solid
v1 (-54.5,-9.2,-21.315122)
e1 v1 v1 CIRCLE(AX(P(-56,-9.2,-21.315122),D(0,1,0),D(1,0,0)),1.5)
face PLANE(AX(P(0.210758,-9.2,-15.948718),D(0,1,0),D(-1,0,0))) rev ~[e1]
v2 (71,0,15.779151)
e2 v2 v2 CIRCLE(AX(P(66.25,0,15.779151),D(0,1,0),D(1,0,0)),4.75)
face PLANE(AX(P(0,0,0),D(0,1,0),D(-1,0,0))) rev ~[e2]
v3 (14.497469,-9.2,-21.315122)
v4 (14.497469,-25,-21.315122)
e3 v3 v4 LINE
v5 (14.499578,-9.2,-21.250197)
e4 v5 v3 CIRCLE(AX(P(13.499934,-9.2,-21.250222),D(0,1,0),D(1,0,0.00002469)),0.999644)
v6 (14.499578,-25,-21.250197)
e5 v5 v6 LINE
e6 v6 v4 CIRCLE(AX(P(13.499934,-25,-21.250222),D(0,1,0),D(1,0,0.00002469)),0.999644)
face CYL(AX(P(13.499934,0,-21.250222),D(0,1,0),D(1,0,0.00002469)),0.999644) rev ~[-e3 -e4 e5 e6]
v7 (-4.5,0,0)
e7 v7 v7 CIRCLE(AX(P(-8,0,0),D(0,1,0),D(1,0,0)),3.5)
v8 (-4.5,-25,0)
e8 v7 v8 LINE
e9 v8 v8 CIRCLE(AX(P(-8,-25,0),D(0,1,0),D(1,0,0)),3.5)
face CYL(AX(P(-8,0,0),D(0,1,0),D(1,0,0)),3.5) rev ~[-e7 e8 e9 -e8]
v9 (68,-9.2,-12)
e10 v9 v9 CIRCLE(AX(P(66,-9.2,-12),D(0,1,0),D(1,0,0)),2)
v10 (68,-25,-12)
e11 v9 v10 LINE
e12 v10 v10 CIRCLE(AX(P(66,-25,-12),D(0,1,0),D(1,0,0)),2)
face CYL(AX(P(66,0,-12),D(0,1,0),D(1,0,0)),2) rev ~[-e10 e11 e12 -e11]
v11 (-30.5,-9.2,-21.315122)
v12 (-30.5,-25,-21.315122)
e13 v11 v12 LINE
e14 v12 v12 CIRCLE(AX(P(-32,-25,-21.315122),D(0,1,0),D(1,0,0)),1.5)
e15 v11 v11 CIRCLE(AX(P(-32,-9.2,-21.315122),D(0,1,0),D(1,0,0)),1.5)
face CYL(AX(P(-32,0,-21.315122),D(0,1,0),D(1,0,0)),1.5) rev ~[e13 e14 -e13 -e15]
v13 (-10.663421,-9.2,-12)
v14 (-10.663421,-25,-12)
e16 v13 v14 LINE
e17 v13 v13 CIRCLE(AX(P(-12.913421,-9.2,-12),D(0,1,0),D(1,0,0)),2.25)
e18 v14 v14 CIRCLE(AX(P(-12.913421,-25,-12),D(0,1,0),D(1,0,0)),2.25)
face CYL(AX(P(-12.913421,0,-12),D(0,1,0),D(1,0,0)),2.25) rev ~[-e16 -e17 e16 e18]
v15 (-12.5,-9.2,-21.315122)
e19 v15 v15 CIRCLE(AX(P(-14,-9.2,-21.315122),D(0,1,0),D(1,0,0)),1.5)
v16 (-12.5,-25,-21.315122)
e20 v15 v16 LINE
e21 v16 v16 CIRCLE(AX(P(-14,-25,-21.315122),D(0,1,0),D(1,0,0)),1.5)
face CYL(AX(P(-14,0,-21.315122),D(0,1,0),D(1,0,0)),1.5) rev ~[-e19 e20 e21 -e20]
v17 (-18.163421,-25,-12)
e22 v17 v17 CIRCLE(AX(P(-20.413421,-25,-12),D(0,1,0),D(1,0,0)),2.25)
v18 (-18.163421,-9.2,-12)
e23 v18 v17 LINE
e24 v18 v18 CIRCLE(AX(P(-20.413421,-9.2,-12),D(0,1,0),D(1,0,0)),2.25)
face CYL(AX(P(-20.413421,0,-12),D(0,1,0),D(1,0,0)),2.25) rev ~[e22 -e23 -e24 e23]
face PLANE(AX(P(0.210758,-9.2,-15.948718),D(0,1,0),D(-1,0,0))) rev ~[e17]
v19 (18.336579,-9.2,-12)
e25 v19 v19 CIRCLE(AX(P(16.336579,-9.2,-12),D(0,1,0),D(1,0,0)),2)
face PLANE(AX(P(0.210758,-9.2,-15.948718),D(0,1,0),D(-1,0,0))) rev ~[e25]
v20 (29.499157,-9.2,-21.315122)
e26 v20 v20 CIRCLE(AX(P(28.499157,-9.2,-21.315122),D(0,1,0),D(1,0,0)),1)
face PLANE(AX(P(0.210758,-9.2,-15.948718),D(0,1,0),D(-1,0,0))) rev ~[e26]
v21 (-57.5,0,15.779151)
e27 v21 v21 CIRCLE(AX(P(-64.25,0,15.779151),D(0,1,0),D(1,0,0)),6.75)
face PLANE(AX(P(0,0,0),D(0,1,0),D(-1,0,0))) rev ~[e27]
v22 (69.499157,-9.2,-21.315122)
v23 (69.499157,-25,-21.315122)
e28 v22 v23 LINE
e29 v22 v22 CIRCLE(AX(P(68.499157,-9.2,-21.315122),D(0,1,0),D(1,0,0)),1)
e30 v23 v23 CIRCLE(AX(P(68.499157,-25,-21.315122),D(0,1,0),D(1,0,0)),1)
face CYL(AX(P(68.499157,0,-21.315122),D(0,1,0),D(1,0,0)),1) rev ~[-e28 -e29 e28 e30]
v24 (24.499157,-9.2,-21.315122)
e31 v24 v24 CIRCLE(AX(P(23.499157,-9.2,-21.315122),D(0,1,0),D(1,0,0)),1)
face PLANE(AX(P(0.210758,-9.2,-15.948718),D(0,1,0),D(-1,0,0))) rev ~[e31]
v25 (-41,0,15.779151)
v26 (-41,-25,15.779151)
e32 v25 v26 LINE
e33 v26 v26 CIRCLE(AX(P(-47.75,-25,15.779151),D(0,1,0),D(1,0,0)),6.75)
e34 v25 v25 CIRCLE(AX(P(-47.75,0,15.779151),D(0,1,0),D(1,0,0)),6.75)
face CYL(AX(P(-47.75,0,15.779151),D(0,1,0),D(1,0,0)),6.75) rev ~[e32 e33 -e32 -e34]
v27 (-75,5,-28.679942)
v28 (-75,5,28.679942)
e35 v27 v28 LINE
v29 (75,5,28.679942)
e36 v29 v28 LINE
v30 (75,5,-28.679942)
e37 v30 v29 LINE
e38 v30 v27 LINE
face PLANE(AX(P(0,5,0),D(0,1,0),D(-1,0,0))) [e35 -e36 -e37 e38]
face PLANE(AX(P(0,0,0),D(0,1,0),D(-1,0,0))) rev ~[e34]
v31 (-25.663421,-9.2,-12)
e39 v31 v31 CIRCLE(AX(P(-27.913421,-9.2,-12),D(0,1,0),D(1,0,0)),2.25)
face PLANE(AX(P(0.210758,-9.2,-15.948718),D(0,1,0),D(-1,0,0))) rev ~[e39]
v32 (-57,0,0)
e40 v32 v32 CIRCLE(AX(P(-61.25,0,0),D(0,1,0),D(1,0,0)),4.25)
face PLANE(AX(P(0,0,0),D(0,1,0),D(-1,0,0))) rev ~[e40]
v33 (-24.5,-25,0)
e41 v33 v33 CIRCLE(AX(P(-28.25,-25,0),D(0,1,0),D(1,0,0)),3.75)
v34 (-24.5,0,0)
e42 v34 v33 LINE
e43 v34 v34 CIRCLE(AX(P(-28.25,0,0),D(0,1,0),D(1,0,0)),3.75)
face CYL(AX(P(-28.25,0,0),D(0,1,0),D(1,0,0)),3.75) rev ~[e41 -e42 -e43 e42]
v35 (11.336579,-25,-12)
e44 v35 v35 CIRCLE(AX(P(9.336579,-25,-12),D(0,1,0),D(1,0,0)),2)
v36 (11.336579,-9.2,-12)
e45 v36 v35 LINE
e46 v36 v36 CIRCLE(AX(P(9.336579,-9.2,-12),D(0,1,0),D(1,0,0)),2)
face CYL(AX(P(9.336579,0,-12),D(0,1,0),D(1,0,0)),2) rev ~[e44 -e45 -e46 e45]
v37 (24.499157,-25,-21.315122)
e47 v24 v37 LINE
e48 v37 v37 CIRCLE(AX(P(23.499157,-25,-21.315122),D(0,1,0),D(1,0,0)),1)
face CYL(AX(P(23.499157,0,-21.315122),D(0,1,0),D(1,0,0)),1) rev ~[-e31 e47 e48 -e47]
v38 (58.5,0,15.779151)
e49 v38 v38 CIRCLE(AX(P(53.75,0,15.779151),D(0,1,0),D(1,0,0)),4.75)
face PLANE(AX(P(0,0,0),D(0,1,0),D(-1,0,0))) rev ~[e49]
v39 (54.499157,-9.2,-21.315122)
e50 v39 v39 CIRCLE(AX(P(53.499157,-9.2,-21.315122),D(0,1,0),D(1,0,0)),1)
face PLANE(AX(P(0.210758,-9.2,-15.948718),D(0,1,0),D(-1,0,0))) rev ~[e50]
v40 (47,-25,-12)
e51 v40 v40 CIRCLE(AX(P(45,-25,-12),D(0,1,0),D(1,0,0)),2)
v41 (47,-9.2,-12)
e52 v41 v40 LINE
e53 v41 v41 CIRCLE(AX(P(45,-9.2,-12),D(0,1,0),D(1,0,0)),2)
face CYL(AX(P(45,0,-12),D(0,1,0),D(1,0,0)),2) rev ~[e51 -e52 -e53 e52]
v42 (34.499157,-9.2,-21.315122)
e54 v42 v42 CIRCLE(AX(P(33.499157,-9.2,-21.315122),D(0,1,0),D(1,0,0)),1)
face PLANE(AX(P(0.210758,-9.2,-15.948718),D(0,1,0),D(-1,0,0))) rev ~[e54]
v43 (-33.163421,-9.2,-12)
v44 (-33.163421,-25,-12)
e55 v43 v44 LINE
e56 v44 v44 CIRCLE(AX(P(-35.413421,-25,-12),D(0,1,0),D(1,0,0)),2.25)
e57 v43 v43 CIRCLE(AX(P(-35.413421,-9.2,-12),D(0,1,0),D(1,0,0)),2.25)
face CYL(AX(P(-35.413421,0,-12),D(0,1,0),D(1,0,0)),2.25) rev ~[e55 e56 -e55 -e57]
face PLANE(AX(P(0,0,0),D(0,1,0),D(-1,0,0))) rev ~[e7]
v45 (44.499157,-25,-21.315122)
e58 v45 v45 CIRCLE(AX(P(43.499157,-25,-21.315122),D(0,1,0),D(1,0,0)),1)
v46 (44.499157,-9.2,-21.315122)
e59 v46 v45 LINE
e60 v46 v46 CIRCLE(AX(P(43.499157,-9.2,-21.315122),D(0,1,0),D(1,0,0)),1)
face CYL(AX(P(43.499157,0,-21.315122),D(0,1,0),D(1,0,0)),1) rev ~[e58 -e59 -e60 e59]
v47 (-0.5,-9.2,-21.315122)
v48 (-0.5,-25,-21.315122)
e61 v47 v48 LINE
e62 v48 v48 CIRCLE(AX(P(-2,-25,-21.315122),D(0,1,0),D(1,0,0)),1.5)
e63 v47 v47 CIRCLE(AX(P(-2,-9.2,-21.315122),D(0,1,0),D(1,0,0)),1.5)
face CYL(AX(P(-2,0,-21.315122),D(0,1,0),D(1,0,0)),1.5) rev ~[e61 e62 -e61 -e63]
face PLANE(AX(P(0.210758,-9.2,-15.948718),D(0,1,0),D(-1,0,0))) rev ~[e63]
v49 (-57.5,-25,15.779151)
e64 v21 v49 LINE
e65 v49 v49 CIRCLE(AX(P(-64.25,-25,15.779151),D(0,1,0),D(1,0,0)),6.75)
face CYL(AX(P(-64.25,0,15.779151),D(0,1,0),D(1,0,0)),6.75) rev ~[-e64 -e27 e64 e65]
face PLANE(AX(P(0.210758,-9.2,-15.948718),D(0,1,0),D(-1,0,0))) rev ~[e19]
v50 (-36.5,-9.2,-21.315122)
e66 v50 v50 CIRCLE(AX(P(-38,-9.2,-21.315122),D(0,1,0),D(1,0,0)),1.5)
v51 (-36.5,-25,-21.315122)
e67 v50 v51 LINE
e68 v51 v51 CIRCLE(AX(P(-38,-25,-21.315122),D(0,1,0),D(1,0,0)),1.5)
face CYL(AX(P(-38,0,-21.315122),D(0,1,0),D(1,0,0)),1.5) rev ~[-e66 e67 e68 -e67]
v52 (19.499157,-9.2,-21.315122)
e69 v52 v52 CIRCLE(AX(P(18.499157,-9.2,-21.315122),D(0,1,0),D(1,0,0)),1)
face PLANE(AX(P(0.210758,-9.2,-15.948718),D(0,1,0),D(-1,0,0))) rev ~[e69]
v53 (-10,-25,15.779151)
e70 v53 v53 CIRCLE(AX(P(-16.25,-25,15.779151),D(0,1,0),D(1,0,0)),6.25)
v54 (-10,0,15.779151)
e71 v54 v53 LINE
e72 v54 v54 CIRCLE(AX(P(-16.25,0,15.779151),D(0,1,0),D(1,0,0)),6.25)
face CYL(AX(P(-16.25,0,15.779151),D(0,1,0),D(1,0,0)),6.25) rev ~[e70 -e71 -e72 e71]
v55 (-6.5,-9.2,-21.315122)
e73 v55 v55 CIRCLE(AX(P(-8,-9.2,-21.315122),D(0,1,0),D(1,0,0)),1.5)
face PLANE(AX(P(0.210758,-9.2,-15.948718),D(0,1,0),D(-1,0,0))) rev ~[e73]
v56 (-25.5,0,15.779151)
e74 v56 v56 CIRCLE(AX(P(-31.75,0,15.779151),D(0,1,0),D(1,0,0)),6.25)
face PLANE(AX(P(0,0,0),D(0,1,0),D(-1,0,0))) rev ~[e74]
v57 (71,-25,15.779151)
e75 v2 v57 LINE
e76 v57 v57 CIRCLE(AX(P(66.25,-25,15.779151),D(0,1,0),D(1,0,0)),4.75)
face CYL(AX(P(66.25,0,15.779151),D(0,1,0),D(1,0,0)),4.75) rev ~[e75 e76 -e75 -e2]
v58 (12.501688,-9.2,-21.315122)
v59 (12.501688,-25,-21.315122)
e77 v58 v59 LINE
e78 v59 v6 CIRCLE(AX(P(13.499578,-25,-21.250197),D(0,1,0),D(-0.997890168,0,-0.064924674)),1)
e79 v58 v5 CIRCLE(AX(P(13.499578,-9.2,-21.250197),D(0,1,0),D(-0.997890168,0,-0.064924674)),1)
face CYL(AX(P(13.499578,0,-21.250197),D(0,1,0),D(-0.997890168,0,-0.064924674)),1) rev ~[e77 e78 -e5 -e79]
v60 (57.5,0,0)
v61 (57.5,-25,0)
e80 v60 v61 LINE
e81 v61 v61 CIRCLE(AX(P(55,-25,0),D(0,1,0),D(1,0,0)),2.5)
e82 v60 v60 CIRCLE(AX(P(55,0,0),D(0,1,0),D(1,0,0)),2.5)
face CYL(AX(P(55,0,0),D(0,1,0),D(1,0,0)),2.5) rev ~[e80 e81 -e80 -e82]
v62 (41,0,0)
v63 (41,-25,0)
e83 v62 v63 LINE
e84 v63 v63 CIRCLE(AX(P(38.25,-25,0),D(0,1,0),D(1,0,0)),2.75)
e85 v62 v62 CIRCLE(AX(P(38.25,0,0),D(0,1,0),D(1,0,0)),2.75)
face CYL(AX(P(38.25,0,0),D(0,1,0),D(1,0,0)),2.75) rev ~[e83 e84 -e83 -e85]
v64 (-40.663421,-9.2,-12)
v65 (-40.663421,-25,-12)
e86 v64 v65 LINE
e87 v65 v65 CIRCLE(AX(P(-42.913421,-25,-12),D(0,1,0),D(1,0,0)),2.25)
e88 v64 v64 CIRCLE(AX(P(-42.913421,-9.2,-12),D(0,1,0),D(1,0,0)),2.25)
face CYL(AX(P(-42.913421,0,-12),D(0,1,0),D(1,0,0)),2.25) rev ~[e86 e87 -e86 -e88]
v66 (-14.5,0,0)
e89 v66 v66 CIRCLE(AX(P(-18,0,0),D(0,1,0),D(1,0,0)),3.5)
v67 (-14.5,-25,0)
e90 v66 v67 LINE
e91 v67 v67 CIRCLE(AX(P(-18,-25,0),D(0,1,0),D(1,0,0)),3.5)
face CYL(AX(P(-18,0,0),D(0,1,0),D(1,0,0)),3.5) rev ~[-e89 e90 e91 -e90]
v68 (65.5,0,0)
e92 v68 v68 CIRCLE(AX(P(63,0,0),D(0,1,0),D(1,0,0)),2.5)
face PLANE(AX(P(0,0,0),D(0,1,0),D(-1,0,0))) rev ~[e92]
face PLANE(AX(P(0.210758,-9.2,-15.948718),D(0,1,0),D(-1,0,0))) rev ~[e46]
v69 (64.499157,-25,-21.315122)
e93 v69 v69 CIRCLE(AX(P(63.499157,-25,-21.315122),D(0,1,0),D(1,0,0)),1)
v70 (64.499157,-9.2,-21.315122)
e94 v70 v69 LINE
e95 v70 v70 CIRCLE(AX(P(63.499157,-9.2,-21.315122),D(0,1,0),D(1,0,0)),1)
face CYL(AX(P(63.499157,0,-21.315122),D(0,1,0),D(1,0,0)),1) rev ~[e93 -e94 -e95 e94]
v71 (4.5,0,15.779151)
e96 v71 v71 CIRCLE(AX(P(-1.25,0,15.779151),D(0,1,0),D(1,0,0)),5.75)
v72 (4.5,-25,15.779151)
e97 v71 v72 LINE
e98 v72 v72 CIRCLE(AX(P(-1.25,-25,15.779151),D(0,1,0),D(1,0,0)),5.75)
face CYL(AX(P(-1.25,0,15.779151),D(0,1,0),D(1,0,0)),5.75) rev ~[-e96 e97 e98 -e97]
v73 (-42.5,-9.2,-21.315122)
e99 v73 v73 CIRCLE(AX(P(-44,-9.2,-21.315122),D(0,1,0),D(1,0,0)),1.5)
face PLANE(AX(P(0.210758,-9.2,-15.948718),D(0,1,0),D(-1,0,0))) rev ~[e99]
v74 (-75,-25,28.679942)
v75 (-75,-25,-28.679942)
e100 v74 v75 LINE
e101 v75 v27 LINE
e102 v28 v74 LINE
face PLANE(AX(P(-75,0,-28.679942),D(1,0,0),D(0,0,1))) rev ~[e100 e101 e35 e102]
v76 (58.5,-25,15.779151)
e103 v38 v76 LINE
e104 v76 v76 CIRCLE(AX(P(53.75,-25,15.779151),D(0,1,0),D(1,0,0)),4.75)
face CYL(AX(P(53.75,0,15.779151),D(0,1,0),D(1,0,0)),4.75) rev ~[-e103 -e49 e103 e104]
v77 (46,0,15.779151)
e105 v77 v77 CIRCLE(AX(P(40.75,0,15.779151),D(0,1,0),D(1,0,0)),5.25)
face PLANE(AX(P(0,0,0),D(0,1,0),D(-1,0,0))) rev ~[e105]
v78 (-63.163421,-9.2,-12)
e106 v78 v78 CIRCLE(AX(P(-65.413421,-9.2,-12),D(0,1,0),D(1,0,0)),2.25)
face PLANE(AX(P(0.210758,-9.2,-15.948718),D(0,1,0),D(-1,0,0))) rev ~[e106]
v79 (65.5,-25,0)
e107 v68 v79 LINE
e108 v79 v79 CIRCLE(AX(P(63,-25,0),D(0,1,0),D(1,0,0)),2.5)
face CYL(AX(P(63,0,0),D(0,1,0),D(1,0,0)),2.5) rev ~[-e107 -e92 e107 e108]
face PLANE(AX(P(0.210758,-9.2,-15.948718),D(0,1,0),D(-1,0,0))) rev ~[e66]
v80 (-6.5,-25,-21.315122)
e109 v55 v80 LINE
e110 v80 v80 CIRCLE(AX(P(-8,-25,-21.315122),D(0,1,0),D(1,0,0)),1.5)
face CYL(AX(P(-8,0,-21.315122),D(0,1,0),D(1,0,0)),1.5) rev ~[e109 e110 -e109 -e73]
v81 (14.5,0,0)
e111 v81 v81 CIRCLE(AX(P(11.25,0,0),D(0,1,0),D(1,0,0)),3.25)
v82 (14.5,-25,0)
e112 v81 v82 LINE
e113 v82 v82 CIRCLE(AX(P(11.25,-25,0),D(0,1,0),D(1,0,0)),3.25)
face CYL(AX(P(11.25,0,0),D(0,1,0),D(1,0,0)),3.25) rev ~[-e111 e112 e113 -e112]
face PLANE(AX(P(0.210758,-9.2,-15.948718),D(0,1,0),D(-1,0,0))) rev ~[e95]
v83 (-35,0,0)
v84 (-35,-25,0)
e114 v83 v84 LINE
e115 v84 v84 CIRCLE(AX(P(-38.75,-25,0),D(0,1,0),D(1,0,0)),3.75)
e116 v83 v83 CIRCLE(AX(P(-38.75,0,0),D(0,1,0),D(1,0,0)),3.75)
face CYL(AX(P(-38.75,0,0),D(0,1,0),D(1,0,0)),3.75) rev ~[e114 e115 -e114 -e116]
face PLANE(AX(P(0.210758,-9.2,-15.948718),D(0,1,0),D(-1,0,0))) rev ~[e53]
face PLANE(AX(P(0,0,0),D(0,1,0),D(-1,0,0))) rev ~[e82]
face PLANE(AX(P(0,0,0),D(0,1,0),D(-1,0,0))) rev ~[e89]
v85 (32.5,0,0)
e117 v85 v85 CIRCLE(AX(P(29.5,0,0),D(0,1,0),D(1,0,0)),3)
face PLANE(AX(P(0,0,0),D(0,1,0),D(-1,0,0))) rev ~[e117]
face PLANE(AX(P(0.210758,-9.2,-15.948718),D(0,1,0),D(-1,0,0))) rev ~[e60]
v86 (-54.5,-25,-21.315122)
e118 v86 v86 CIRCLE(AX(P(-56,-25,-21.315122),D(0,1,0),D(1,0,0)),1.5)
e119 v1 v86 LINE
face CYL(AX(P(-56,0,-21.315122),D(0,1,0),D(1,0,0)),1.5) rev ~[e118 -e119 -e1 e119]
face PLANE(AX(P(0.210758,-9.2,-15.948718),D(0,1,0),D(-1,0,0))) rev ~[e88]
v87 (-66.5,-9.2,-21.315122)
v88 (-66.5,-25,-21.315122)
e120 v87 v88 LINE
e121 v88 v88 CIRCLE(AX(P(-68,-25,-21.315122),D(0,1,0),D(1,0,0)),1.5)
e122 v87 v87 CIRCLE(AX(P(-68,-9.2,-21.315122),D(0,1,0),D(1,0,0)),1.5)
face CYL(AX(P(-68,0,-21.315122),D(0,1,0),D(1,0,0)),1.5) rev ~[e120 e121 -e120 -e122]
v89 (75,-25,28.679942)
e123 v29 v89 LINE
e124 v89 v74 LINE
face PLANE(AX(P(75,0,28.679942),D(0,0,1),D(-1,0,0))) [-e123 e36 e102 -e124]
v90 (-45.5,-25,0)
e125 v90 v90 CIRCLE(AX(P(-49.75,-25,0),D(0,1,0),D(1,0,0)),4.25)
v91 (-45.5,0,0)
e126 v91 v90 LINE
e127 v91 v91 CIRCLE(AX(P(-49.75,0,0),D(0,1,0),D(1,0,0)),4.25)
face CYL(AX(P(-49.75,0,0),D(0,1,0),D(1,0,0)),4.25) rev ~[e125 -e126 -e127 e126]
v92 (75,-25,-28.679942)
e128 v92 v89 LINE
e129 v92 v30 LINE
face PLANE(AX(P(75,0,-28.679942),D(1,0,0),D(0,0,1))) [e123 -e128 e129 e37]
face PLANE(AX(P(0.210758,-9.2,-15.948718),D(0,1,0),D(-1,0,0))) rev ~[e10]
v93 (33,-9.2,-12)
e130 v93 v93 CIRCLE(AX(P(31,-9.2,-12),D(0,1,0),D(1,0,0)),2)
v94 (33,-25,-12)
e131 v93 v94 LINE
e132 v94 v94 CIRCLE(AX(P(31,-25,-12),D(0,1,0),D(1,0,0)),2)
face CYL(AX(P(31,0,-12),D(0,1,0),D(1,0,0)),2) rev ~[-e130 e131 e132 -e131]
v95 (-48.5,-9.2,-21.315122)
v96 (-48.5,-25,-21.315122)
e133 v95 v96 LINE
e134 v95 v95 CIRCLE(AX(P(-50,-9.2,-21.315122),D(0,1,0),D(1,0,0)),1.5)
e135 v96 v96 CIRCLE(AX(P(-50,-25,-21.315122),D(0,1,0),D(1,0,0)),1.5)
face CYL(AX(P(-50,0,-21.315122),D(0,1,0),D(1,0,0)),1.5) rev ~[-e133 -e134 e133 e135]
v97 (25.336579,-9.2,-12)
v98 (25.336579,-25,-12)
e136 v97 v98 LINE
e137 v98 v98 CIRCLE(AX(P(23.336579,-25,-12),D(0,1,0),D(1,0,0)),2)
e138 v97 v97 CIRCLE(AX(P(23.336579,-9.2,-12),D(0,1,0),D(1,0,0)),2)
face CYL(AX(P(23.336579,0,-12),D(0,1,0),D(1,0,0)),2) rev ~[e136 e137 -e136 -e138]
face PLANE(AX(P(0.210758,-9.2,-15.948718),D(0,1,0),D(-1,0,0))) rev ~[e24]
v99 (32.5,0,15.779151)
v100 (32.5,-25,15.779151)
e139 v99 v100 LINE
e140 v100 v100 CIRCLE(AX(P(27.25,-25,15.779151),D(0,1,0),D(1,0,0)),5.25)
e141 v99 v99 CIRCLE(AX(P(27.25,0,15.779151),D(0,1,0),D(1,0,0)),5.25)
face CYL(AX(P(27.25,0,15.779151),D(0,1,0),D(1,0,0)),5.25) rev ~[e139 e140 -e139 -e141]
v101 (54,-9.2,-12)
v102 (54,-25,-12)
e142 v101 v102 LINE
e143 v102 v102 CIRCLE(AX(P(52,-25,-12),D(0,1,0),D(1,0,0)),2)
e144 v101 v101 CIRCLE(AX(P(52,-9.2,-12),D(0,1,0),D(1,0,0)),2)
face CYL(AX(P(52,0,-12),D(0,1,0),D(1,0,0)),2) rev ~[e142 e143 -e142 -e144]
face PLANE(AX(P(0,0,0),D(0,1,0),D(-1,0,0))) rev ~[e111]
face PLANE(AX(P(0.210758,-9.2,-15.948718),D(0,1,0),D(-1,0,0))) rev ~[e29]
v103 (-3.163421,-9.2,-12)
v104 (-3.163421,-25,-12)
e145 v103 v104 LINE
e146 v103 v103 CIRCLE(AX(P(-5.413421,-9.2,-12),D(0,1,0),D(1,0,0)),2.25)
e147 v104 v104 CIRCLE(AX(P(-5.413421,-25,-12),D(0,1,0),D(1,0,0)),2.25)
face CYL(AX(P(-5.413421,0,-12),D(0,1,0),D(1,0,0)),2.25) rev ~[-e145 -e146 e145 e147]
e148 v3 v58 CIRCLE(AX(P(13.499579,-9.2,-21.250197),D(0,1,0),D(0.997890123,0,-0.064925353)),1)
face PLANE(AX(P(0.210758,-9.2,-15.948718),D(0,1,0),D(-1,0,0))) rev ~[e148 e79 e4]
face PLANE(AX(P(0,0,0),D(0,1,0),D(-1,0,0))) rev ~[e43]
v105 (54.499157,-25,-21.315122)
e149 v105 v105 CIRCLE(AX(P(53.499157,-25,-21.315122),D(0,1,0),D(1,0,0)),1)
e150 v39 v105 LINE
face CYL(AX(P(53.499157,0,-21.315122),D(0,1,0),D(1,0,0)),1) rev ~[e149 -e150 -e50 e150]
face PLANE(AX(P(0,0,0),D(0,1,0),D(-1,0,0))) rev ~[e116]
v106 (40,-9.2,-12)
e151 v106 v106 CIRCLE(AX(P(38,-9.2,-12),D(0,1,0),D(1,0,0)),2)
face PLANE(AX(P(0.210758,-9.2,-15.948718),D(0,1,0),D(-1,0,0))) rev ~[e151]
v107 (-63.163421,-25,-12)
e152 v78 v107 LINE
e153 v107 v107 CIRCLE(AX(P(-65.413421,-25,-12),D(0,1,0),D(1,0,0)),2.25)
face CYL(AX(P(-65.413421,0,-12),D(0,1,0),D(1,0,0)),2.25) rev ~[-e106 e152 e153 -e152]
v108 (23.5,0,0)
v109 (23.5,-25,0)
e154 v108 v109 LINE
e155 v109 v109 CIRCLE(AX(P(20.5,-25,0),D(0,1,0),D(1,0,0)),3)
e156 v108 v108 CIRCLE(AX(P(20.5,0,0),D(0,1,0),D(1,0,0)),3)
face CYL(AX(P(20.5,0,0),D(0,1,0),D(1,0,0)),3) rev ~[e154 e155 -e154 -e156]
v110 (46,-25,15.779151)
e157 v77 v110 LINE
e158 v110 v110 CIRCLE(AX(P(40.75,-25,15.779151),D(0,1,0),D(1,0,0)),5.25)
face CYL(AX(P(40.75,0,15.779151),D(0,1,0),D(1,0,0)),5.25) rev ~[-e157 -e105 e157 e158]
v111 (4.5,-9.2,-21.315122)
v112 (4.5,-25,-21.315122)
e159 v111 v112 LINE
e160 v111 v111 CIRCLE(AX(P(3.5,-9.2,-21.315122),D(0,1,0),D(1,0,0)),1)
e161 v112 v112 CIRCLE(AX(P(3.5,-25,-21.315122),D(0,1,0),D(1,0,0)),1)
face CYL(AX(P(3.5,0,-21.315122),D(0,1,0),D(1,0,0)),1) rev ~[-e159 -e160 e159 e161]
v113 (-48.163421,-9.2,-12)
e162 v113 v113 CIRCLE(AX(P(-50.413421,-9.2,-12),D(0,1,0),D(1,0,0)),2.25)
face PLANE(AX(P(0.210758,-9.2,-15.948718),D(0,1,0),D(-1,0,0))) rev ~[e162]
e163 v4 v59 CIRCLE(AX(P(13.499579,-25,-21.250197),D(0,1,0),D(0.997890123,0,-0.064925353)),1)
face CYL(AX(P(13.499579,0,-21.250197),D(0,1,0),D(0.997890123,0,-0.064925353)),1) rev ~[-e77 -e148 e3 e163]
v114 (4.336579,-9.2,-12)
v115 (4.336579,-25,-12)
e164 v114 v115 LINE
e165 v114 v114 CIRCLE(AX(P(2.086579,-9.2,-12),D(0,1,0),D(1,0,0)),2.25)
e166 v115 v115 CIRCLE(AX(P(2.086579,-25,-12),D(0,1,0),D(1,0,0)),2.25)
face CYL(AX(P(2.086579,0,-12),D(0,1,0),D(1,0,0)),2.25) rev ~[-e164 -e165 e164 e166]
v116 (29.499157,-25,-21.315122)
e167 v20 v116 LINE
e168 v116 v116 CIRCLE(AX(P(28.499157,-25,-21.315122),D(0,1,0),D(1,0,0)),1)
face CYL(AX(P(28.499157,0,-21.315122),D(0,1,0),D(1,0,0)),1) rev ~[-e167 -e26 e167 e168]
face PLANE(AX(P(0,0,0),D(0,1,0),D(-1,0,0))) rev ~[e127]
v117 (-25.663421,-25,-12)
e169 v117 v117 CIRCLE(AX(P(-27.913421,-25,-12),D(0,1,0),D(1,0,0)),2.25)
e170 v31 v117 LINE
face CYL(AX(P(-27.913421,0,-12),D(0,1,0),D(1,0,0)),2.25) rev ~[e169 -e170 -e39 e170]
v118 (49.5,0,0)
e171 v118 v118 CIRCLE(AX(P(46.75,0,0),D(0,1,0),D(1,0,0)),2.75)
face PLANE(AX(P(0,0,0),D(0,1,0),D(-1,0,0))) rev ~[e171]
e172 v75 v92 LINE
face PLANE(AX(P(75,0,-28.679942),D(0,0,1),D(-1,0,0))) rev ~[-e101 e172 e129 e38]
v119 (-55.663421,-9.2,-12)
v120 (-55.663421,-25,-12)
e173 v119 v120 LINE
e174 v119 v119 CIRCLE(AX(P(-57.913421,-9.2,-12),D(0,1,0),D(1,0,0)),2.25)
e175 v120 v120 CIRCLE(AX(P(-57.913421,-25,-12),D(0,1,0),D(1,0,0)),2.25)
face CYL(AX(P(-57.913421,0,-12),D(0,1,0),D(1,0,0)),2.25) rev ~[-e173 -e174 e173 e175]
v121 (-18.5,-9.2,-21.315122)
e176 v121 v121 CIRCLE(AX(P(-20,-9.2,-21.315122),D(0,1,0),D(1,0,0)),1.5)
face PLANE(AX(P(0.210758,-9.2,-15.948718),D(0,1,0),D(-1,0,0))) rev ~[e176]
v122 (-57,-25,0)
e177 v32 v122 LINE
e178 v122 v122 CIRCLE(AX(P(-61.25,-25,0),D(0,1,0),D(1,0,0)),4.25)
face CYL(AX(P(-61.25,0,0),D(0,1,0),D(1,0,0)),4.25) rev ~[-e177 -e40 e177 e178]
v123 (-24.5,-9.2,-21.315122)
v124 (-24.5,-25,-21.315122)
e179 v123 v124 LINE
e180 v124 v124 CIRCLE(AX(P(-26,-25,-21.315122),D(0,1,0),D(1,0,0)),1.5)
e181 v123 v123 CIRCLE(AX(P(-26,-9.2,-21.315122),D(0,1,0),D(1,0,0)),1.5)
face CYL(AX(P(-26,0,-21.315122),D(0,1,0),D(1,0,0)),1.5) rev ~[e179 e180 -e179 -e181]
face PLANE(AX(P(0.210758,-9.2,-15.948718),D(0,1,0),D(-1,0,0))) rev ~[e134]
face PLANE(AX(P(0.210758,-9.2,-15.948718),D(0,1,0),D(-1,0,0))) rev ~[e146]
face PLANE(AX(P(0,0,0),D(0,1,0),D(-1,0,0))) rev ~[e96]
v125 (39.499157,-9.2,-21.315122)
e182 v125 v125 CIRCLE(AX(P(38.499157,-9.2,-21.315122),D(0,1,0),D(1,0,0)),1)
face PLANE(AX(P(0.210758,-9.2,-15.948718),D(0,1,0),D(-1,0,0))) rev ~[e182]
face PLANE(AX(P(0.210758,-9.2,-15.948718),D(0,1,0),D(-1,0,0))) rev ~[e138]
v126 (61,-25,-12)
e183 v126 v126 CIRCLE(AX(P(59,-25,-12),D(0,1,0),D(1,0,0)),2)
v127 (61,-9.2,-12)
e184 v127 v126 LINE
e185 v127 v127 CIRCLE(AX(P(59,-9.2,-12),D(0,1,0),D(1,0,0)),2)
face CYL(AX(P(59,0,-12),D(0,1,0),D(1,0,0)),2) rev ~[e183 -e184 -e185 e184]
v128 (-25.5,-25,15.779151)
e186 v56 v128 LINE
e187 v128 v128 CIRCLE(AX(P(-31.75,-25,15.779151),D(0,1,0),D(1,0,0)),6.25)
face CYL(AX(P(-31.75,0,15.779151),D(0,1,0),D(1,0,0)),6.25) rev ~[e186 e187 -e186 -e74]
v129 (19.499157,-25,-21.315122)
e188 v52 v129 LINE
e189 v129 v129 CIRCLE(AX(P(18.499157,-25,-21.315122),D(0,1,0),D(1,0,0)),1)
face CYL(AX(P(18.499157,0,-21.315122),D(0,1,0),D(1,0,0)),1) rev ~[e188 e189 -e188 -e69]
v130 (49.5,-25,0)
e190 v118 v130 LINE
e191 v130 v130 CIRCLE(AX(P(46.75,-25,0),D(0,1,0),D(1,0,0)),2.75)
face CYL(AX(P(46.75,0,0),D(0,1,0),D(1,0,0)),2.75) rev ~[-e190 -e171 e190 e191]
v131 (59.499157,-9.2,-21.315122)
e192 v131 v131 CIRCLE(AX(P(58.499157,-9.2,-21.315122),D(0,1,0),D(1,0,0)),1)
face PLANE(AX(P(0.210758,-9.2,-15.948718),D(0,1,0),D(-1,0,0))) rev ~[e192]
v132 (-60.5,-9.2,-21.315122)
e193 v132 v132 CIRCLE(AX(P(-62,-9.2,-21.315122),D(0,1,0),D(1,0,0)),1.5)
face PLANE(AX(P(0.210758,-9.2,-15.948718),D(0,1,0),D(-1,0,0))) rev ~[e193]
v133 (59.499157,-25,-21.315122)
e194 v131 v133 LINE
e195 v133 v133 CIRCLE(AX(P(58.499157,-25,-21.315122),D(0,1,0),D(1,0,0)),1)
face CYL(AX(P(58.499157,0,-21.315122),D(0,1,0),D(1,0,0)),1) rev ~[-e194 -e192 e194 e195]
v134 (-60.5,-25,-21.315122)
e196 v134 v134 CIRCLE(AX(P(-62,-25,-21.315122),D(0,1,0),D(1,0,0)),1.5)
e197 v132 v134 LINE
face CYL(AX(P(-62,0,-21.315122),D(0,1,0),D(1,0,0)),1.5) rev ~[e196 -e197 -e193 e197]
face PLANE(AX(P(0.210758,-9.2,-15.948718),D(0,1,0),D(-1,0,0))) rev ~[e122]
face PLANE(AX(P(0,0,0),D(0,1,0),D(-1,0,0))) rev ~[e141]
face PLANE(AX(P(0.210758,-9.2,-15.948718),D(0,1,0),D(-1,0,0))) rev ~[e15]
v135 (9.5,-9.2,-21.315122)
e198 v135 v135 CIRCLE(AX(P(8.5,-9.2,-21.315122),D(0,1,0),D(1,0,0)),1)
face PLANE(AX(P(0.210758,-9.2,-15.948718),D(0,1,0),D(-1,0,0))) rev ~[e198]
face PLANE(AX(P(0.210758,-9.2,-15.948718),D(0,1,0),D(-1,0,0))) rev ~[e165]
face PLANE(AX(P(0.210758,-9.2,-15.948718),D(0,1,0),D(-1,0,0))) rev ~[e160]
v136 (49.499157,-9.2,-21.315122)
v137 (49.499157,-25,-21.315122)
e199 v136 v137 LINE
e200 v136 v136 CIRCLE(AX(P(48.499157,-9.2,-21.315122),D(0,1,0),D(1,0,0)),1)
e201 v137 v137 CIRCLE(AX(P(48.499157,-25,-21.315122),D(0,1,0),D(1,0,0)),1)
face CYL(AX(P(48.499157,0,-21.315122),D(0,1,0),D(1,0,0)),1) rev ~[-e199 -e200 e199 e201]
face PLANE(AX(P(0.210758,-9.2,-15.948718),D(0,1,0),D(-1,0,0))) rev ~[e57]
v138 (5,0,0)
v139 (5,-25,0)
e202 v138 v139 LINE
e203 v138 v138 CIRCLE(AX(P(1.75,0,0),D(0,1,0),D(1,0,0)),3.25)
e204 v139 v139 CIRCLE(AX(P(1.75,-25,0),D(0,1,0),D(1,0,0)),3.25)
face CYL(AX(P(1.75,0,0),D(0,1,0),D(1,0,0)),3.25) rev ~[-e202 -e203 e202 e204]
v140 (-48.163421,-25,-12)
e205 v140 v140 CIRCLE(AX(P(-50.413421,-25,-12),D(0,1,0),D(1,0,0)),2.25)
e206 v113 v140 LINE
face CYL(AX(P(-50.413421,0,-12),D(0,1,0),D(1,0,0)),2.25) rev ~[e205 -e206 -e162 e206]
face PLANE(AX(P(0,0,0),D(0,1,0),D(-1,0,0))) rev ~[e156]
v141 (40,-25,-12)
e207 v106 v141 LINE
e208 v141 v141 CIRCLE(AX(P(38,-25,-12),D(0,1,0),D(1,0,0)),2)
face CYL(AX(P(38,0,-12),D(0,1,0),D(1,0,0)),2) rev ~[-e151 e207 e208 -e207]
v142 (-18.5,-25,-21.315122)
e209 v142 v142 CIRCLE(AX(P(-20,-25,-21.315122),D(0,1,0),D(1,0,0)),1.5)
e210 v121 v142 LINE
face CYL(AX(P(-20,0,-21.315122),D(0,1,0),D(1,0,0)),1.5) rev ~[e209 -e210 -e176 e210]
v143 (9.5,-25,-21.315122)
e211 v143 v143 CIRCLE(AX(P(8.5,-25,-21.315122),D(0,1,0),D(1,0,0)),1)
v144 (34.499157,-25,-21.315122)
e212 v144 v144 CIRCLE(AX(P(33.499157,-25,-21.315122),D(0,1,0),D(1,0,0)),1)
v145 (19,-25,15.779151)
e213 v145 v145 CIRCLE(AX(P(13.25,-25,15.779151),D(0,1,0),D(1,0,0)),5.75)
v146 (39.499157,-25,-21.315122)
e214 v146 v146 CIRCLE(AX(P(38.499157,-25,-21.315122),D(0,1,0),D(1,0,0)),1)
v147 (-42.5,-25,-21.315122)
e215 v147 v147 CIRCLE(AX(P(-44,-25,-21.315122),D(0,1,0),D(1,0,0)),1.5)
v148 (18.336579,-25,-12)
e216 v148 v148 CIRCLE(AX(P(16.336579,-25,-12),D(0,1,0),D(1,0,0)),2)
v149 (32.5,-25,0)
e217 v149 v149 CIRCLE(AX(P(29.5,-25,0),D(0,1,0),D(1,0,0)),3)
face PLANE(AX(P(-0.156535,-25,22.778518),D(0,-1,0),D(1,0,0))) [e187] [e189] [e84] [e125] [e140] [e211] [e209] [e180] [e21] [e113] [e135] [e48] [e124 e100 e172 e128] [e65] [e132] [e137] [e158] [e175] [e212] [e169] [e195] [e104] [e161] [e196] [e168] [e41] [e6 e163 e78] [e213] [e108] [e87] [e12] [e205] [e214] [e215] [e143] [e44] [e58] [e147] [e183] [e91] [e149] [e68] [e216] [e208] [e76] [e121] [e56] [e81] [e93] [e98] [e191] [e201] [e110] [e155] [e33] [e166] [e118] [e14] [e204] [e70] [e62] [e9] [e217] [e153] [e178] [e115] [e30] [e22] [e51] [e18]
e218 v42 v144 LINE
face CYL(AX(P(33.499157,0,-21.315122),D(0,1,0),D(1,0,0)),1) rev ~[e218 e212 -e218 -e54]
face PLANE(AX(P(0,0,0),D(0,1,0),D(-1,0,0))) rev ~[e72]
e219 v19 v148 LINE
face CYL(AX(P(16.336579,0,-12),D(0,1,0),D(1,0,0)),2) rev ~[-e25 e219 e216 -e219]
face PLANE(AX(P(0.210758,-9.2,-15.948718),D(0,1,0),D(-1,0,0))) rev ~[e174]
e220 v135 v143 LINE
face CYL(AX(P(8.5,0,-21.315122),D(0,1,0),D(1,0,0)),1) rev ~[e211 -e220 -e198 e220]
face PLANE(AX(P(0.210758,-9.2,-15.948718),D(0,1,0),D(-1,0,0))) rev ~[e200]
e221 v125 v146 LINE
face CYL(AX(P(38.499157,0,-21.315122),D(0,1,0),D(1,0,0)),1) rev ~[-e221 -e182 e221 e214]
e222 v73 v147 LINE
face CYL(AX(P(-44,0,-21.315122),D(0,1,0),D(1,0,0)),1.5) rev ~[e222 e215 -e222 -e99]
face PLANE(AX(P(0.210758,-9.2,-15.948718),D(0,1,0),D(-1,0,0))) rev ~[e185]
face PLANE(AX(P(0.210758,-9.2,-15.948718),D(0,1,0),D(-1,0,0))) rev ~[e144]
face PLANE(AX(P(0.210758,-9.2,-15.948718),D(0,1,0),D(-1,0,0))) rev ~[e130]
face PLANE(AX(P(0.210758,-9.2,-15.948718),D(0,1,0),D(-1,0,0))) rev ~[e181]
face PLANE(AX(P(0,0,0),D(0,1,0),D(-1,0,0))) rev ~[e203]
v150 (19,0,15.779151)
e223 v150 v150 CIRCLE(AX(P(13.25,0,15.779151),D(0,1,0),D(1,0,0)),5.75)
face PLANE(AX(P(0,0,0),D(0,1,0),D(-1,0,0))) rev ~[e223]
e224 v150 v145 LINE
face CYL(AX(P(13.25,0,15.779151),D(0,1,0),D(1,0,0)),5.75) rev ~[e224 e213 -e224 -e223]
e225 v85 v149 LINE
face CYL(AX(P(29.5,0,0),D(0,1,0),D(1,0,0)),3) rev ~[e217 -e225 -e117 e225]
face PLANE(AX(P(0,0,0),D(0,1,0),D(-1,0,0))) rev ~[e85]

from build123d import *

# Parameters (mm, degrees)
F1_DEPTH = 25
F2_W     = 144.520916
F2_H     = 17.829561
F3_DEPTH = 9.2
F4_W     = 150
F4_H     = 57.359884
F5_DEPTH = 5


with BuildPart() as f1:
    # F0 (on Front) → F1 (new body)
    with BuildSketch(Plane.XZ):
        with BuildLine():
            Line((75, 15.779151), (75, 28.679942))
            Line((75, 28.679942), (-75, 28.679942))
            Line((-75, 28.679942), (-75, 15.779151))
            Line((-75, 15.779151), (-71, 15.779151))
            ThreePointArc((-71, 15.779151), (-64.25, 22.529151), (-57.5, 15.779151))
            Line((-57.5, 15.779151), (-54.5, 15.779151))
            ThreePointArc((-54.5, 15.779151), (-47.75, 22.529151), (-41, 15.779151))
            Line((-41, 15.779151), (-38, 15.779151))
            ThreePointArc((-38, 15.779151), (-31.75, 22.029151), (-25.5, 15.779151))
            Line((-25.5, 15.779151), (-22.5, 15.779151))
            ThreePointArc((-22.5, 15.779151), (-16.25, 22.029151), (-10, 15.779151))
            Line((-10, 15.779151), (-7, 15.779151))
            ThreePointArc((-7, 15.779151), (-1.25, 21.529151), (4.5, 15.779151))
            Line((4.5, 15.779151), (7.5, 15.779151))
            ThreePointArc((7.5, 15.779151), (13.25, 21.529151), (19, 15.779151))
            Line((19, 15.779151), (22, 15.779151))
            ThreePointArc((22, 15.779151), (27.25, 21.029151), (32.5, 15.779151))
            Line((32.5, 15.779151), (35.5, 15.779151))
            ThreePointArc((35.5, 15.779151), (40.75, 21.029151), (46, 15.779151))
            Line((46, 15.779151), (49, 15.779151))
            ThreePointArc((49, 15.779151), (53.75, 20.529151), (58.5, 15.779151))
            Line((58.5, 15.779151), (61.5, 15.779151))
            ThreePointArc((61.5, 15.779151), (66.25, 20.529151), (71, 15.779151))
            Line((71, 15.779151), (75, 15.779151))
        make_face()
        with BuildLine():
            Line((75, 0), (75, 15.779151))
            Line((75, 15.779151), (71, 15.779151))
            ThreePointArc((71, 15.779151), (66.25, 11.029151), (61.5, 15.779151))
            Line((61.5, 15.779151), (58.5, 15.779151))
            ThreePointArc((58.5, 15.779151), (53.75, 11.029151), (49, 15.779151))
            Line((49, 15.779151), (46, 15.779151))
            ThreePointArc((46, 15.779151), (40.75, 10.529151), (35.5, 15.779151))
            Line((35.5, 15.779151), (32.5, 15.779151))
            ThreePointArc((32.5, 15.779151), (27.25, 10.529151), (22, 15.779151))
            Line((22, 15.779151), (19, 15.779151))
            ThreePointArc((19, 15.779151), (13.25, 10.029151), (7.5, 15.779151))
            Line((7.5, 15.779151), (4.5, 15.779151))
            ThreePointArc((4.5, 15.779151), (-1.25, 10.029151), (-7, 15.779151))
            Line((-7, 15.779151), (-10, 15.779151))
            ThreePointArc((-10, 15.779151), (-16.25, 9.529151), (-22.5, 15.779151))
            Line((-22.5, 15.779151), (-25.5, 15.779151))
            ThreePointArc((-25.5, 15.779151), (-31.75, 9.529151), (-38, 15.779151))
            Line((-38, 15.779151), (-41, 15.779151))
            ThreePointArc((-41, 15.779151), (-47.75, 9.029151), (-54.5, 15.779151))
            Line((-54.5, 15.779151), (-57.5, 15.779151))
            ThreePointArc((-57.5, 15.779151), (-64.25, 9.029151), (-71, 15.779151))
            Line((-71, 15.779151), (-75, 15.779151))
            Line((-75, 15.779151), (-75, 0))
            Line((-75, 0), (-65.5, 0))
            ThreePointArc((-65.5, 0), (-61.25, 4.25), (-57, 0))
            Line((-57, 0), (-54, 0))
            ThreePointArc((-54, 0), (-49.75, 4.25), (-45.5, 0))
            Line((-45.5, 0), (-42.5, 0))
            ThreePointArc((-42.5, 0), (-38.75, 3.75), (-35, 0))
            Line((-35, 0), (-32, 0))
            ThreePointArc((-32, 0), (-28.25, 3.75), (-24.5, 0))
            Line((-24.5, 0), (-21.5, 0))
            ThreePointArc((-21.5, 0), (-18, 3.5), (-14.5, 0))
            Line((-14.5, 0), (-11.5, 0))
            ThreePointArc((-11.5, 0), (-8, 3.5), (-4.5, 0))
            Line((-4.5, 0), (-1.5, 0))
            ThreePointArc((-1.5, 0), (1.75, 3.25), (5, 0))
            Line((5, 0), (8, 0))
            ThreePointArc((8, 0), (11.25, 3.25), (14.5, 0))
            Line((14.5, 0), (17.5, 0))
            ThreePointArc((17.5, 0), (20.5, 3), (23.5, 0))
            Line((23.5, 0), (26.5, 0))
            ThreePointArc((26.5, 0), (29.5, 3), (32.5, 0))
            Line((32.5, 0), (35.5, 0))
            ThreePointArc((35.5, 0), (38.25, 2.75), (41, 0))
            Line((41, 0), (44, 0))
            ThreePointArc((44, 0), (46.75, 2.75), (49.5, 0))
            Line((49.5, 0), (52.5, 0))
            ThreePointArc((52.5, 0), (55, 2.5), (57.5, 0))
            Line((57.5, 0), (60.5, 0))
            ThreePointArc((60.5, 0), (63, 2.5), (65.5, 0))
            Line((65.5, 0), (75, 0))
        make_face()
        with BuildLine():
            Line((75, -12), (75, 0))
            Line((75, 0), (65.5, 0))
            ThreePointArc((65.5, 0), (63, -2.5), (60.5, 0))
            Line((60.5, 0), (57.5, 0))
            ThreePointArc((57.5, 0), (55, -2.5), (52.5, 0))
            Line((52.5, 0), (49.5, 0))
            ThreePointArc((49.5, 0), (46.75, -2.75), (44, 0))
            Line((44, 0), (41, 0))
            ThreePointArc((41, 0), (38.25, -2.75), (35.5, 0))
            Line((35.5, 0), (32.5, 0))
            ThreePointArc((32.5, 0), (29.5, -3), (26.5, 0))
            Line((26.5, 0), (23.5, 0))
            ThreePointArc((23.5, 0), (20.5, -3), (17.5, 0))
            Line((17.5, 0), (14.5, 0))
            ThreePointArc((14.5, 0), (11.25, -3.25), (8, 0))
            Line((8, 0), (5, 0))
            ThreePointArc((5, 0), (1.75, -3.25), (-1.5, 0))
            Line((-1.5, 0), (-4.5, 0))
            ThreePointArc((-4.5, 0), (-8, -3.5), (-11.5, 0))
            Line((-11.5, 0), (-14.5, 0))
            ThreePointArc((-14.5, 0), (-18, -3.5), (-21.5, 0))
            Line((-21.5, 0), (-24.5, 0))
            ThreePointArc((-24.5, 0), (-28.25, -3.75), (-32, 0))
            Line((-32, 0), (-35, 0))
            ThreePointArc((-35, 0), (-38.75, -3.75), (-42.5, 0))
            Line((-42.5, 0), (-45.5, 0))
            ThreePointArc((-45.5, 0), (-49.75, -4.25), (-54, 0))
            Line((-54, 0), (-57, 0))
            ThreePointArc((-57, 0), (-61.25, -4.25), (-65.5, 0))
            Line((-65.5, 0), (-75, 0))
            Line((-75, 0), (-75, -12))
            Line((-75, -12), (-67.663421, -12))
            ThreePointArc((-67.663421, -12), (-65.413421, -9.75), (-63.163421, -12))
            Line((-63.163421, -12), (-60.163421, -12))
            ThreePointArc((-60.163421, -12), (-57.913421, -9.75), (-55.663421, -12))
            Line((-55.663421, -12), (-52.663421, -12))
            ThreePointArc((-52.663421, -12), (-50.413421, -9.75), (-48.163421, -12))
            Line((-48.163421, -12), (-45.163421, -12))
            ThreePointArc((-45.163421, -12), (-42.913421, -9.75), (-40.663421, -12))
            Line((-40.663421, -12), (-37.663421, -12))
            ThreePointArc((-37.663421, -12), (-35.413421, -9.75), (-33.163421, -12))
            Line((-33.163421, -12), (-30.163421, -12))
            ThreePointArc((-30.163421, -12), (-27.913421, -9.75), (-25.663421, -12))
            Line((-25.663421, -12), (-22.663421, -12))
            ThreePointArc((-22.663421, -12), (-20.413421, -9.75), (-18.163421, -12))
            Line((-18.163421, -12), (-15.163421, -12))
            ThreePointArc((-15.163421, -12), (-12.913421, -9.75), (-10.663421, -12))
            Line((-10.663421, -12), (-7.663421, -12))
            ThreePointArc((-7.663421, -12), (-5.413421, -9.75), (-3.163421, -12))
            Line((-3.163421, -12), (-0.163421, -12))
            ThreePointArc((-0.163421, -12), (2.086579, -9.75), (4.336579, -12))
            Line((4.336579, -12), (7.336579, -12))
            ThreePointArc((7.336579, -12), (9.336579, -10), (11.336579, -12))
            Line((11.336579, -12), (14.336579, -12))
            ThreePointArc((14.336579, -12), (16.336579, -10), (18.336579, -12))
            Line((18.336579, -12), (21.336579, -12))
            ThreePointArc((21.336579, -12), (23.336579, -10), (25.336579, -12))
            Line((25.336579, -12), (29, -12))
            ThreePointArc((29, -12), (31, -10), (33, -12))
            Line((33, -12), (36, -12))
            ThreePointArc((36, -12), (38, -10), (40, -12))
            Line((40, -12), (43, -12))
            ThreePointArc((43, -12), (45, -10), (47, -12))
            Line((47, -12), (50, -12))
            ThreePointArc((50, -12), (52, -10), (54, -12))
            Line((54, -12), (57, -12))
            ThreePointArc((57, -12), (59, -10), (61, -12))
            Line((61, -12), (64, -12))
            ThreePointArc((64, -12), (66, -10), (68, -12))
            Line((68, -12), (75, -12))
        make_face()
        with BuildLine():
            Line((75, -21.315122), (75, -12))
            Line((75, -12), (68, -12))
            ThreePointArc((68, -12), (66, -14), (64, -12))
            Line((64, -12), (61, -12))
            ThreePointArc((61, -12), (59, -14), (57, -12))
            Line((57, -12), (54, -12))
            ThreePointArc((54, -12), (52, -14), (50, -12))
            Line((50, -12), (47, -12))
            ThreePointArc((47, -12), (45, -14), (43, -12))
            Line((43, -12), (40, -12))
            ThreePointArc((40, -12), (38, -14), (36, -12))
            Line((36, -12), (33, -12))
            ThreePointArc((33, -12), (31, -14), (29, -12))
            Line((29, -12), (25.336579, -12))
            ThreePointArc((25.336579, -12), (23.336579, -14), (21.336579, -12))
            Line((21.336579, -12), (18.336579, -12))
            ThreePointArc((18.336579, -12), (16.336579, -14), (14.336579, -12))
            Line((14.336579, -12), (11.336579, -12))
            ThreePointArc((11.336579, -12), (9.336579, -14), (7.336579, -12))
            Line((7.336579, -12), (4.336579, -12))
            ThreePointArc((4.336579, -12), (2.086579, -14.25), (-0.163421, -12))
            Line((-0.163421, -12), (-3.163421, -12))
            ThreePointArc((-3.163421, -12), (-5.413421, -14.25), (-7.663421, -12))
            Line((-7.663421, -12), (-10.663421, -12))
            ThreePointArc((-10.663421, -12), (-12.913421, -14.25), (-15.163421, -12))
            Line((-15.163421, -12), (-18.163421, -12))
            ThreePointArc((-18.163421, -12), (-20.413421, -14.25), (-22.663421, -12))
            Line((-22.663421, -12), (-25.663421, -12))
            ThreePointArc((-25.663421, -12), (-27.913421, -14.25), (-30.163421, -12))
            Line((-30.163421, -12), (-33.163421, -12))
            ThreePointArc((-33.163421, -12), (-35.413421, -14.25), (-37.663421, -12))
            Line((-37.663421, -12), (-40.663421, -12))
            ThreePointArc((-40.663421, -12), (-42.913421, -14.25), (-45.163421, -12))
            Line((-45.163421, -12), (-48.163421, -12))
            ThreePointArc((-48.163421, -12), (-50.413421, -14.25), (-52.663421, -12))
            Line((-52.663421, -12), (-55.663421, -12))
            ThreePointArc((-55.663421, -12), (-57.913421, -14.25), (-60.163421, -12))
            Line((-60.163421, -12), (-63.163421, -12))
            ThreePointArc((-63.163421, -12), (-65.413421, -14.25), (-67.663421, -12))
            Line((-67.663421, -12), (-75, -12))
            Line((-75, -12), (-75, -21.315122))
            Line((-75, -21.315122), (-69.5, -21.315122))
            ThreePointArc((-69.5, -21.315122), (-68, -19.815122), (-66.5, -21.315122))
            Line((-66.5, -21.315122), (-63.5, -21.315122))
            ThreePointArc((-63.5, -21.315122), (-62, -19.815122), (-60.5, -21.315122))
            Line((-60.5, -21.315122), (-57.5, -21.315122))
            ThreePointArc((-57.5, -21.315122), (-56, -19.815122), (-54.5, -21.315122))
            Line((-54.5, -21.315122), (-51.5, -21.315122))
            ThreePointArc((-51.5, -21.315122), (-50, -19.815122), (-48.5, -21.315122))
            Line((-48.5, -21.315122), (-45.5, -21.315122))
            ThreePointArc((-45.5, -21.315122), (-44, -19.815122), (-42.5, -21.315122))
            Line((-42.5, -21.315122), (-39.5, -21.315122))
            ThreePointArc((-39.5, -21.315122), (-38, -19.815122), (-36.5, -21.315122))
            Line((-36.5, -21.315122), (-33.5, -21.315122))
            ThreePointArc((-33.5, -21.315122), (-32, -19.815122), (-30.5, -21.315122))
            Line((-30.5, -21.315122), (-27.5, -21.315122))
            ThreePointArc((-27.5, -21.315122), (-26, -19.815122), (-24.5, -21.315122))
            Line((-24.5, -21.315122), (-21.5, -21.315122))
            ThreePointArc((-21.5, -21.315122), (-20, -19.815122), (-18.5, -21.315122))
            Line((-18.5, -21.315122), (-15.5, -21.315122))
            ThreePointArc((-15.5, -21.315122), (-14, -19.815122), (-12.5, -21.315122))
            Line((-12.5, -21.315122), (-9.5, -21.315122))
            ThreePointArc((-9.5, -21.315122), (-8, -19.815122), (-6.5, -21.315122))
            Line((-6.5, -21.315122), (-3.5, -21.315122))
            ThreePointArc((-3.5, -21.315122), (-2, -19.815122), (-0.5, -21.315122))
            Line((-0.5, -21.315122), (2.5, -21.315122))
            ThreePointArc((2.5, -21.315122), (3.5, -20.315122), (4.5, -21.315122))
            Line((4.5, -21.315122), (7.5, -21.315122))
            ThreePointArc((7.5, -21.315122), (8.5, -20.315122), (9.5, -21.315122))
            Line((9.5, -21.315122), (12.501688, -21.315122))
            ThreePointArc((12.501688, -21.315122), (13.467099, -20.250725), (14.499578, -21.250197))
            ThreePointArc((14.499578, -21.250197), (14.499051, -21.282677), (14.497469, -21.315122))
            Line((14.497469, -21.315122), (17.499157, -21.315122))
            ThreePointArc((17.499157, -21.315122), (18.499157, -20.315122), (19.499157, -21.315122))
            Line((19.499157, -21.315122), (22.499157, -21.315122))
            ThreePointArc((22.499157, -21.315122), (23.499157, -20.315122), (24.499157, -21.315122))
            Line((24.499157, -21.315122), (27.499157, -21.315122))
            ThreePointArc((27.499157, -21.315122), (28.499157, -20.315122), (29.499157, -21.315122))
            Line((29.499157, -21.315122), (32.499157, -21.315122))
            ThreePointArc((32.499157, -21.315122), (33.499157, -20.315122), (34.499157, -21.315122))
            Line((34.499157, -21.315122), (37.499157, -21.315122))
            ThreePointArc((37.499157, -21.315122), (38.499157, -20.315122), (39.499157, -21.315122))
            Line((39.499157, -21.315122), (42.499157, -21.315122))
            ThreePointArc((42.499157, -21.315122), (43.499157, -20.315122), (44.499157, -21.315122))
            Line((44.499157, -21.315122), (47.499157, -21.315122))
            ThreePointArc((47.499157, -21.315122), (48.499157, -20.315122), (49.499157, -21.315122))
            Line((49.499157, -21.315122), (52.499157, -21.315122))
            ThreePointArc((52.499157, -21.315122), (53.499157, -20.315122), (54.499157, -21.315122))
            Line((54.499157, -21.315122), (57.499157, -21.315122))
            ThreePointArc((57.499157, -21.315122), (58.499157, -20.315122), (59.499157, -21.315122))
            Line((59.499157, -21.315122), (62.499157, -21.315122))
            ThreePointArc((62.499157, -21.315122), (63.499157, -20.315122), (64.499157, -21.315122))
            Line((64.499157, -21.315122), (67.499157, -21.315122))
            ThreePointArc((67.499157, -21.315122), (68.499157, -20.315122), (69.499157, -21.315122))
            Line((69.499157, -21.315122), (75, -21.315122))
        make_face()
        with BuildLine():
            Line((75, -28.679942), (75, -21.315122))
            Line((75, -21.315122), (69.499157, -21.315122))
            ThreePointArc((69.499157, -21.315122), (68.499157, -22.315122), (67.499157, -21.315122))
            Line((67.499157, -21.315122), (64.499157, -21.315122))
            ThreePointArc((64.499157, -21.315122), (63.499157, -22.315122), (62.499157, -21.315122))
            Line((62.499157, -21.315122), (59.499157, -21.315122))
            ThreePointArc((59.499157, -21.315122), (58.499157, -22.315122), (57.499157, -21.315122))
            Line((57.499157, -21.315122), (54.499157, -21.315122))
            ThreePointArc((54.499157, -21.315122), (53.499157, -22.315122), (52.499157, -21.315122))
            Line((52.499157, -21.315122), (49.499157, -21.315122))
            ThreePointArc((49.499157, -21.315122), (48.499157, -22.315122), (47.499157, -21.315122))
            Line((47.499157, -21.315122), (44.499157, -21.315122))
            ThreePointArc((44.499157, -21.315122), (43.499157, -22.315122), (42.499157, -21.315122))
            Line((42.499157, -21.315122), (39.499157, -21.315122))
            ThreePointArc((39.499157, -21.315122), (38.499157, -22.315122), (37.499157, -21.315122))
            Line((37.499157, -21.315122), (34.499157, -21.315122))
            ThreePointArc((34.499157, -21.315122), (33.499157, -22.315122), (32.499157, -21.315122))
            Line((32.499157, -21.315122), (29.499157, -21.315122))
            ThreePointArc((29.499157, -21.315122), (28.499157, -22.315122), (27.499157, -21.315122))
            Line((27.499157, -21.315122), (24.499157, -21.315122))
            ThreePointArc((24.499157, -21.315122), (23.499157, -22.315122), (22.499157, -21.315122))
            Line((22.499157, -21.315122), (19.499157, -21.315122))
            ThreePointArc((19.499157, -21.315122), (18.499157, -22.315122), (17.499157, -21.315122))
            Line((17.499157, -21.315122), (14.497469, -21.315122))
            ThreePointArc((14.497469, -21.315122), (13.499578, -22.250197), (12.501688, -21.315122))
            Line((12.501688, -21.315122), (9.5, -21.315122))
            ThreePointArc((9.5, -21.315122), (8.5, -22.315122), (7.5, -21.315122))
            Line((7.5, -21.315122), (4.5, -21.315122))
            ThreePointArc((4.5, -21.315122), (3.5, -22.315122), (2.5, -21.315122))
            Line((2.5, -21.315122), (-0.5, -21.315122))
            ThreePointArc((-0.5, -21.315122), (-2, -22.815122), (-3.5, -21.315122))
            Line((-3.5, -21.315122), (-6.5, -21.315122))
            ThreePointArc((-6.5, -21.315122), (-8, -22.815122), (-9.5, -21.315122))
            Line((-9.5, -21.315122), (-12.5, -21.315122))
            ThreePointArc((-12.5, -21.315122), (-14, -22.815122), (-15.5, -21.315122))
            Line((-15.5, -21.315122), (-18.5, -21.315122))
            ThreePointArc((-18.5, -21.315122), (-20, -22.815122), (-21.5, -21.315122))
            Line((-21.5, -21.315122), (-24.5, -21.315122))
            ThreePointArc((-24.5, -21.315122), (-26, -22.815122), (-27.5, -21.315122))
            Line((-27.5, -21.315122), (-30.5, -21.315122))
            ThreePointArc((-30.5, -21.315122), (-32, -22.815122), (-33.5, -21.315122))
            Line((-33.5, -21.315122), (-36.5, -21.315122))
            ThreePointArc((-36.5, -21.315122), (-38, -22.815122), (-39.5, -21.315122))
            Line((-39.5, -21.315122), (-42.5, -21.315122))
            ThreePointArc((-42.5, -21.315122), (-44, -22.815122), (-45.5, -21.315122))
            Line((-45.5, -21.315122), (-48.5, -21.315122))
            ThreePointArc((-48.5, -21.315122), (-50, -22.815122), (-51.5, -21.315122))
            Line((-51.5, -21.315122), (-54.5, -21.315122))
            ThreePointArc((-54.5, -21.315122), (-56, -22.815122), (-57.5, -21.315122))
            Line((-57.5, -21.315122), (-60.5, -21.315122))
            ThreePointArc((-60.5, -21.315122), (-62, -22.815122), (-63.5, -21.315122))
            Line((-63.5, -21.315122), (-66.5, -21.315122))
            ThreePointArc((-66.5, -21.315122), (-68, -22.815122), (-69.5, -21.315122))
            Line((-69.5, -21.315122), (-75, -21.315122))
            Line((-75, -21.315122), (-75, -28.679942))
            Line((-75, -28.679942), (75, -28.679942))
        make_face()
    extrude(amount=F1_DEPTH)

    # F2 (on face) → F3 (join)
    with BuildSketch(Plane(origin=(0, 0, 0), x_dir=(-1, 0, 0), z_dir=(0, 1, 0))):
        with Locations((-0.210758, -15.948718)):
            Rectangle(F2_W, F2_H)
    extrude(amount=-F3_DEPTH)

    # F4 (on face) → F5 (join)
    with BuildSketch(Plane(origin=(0, 0, 0), x_dir=(-1, 0, 0), z_dir=(0, 1, 0))):
        Rectangle(F4_W, F4_H)
    extrude(amount=F5_DEPTH)


solid = f1.part
